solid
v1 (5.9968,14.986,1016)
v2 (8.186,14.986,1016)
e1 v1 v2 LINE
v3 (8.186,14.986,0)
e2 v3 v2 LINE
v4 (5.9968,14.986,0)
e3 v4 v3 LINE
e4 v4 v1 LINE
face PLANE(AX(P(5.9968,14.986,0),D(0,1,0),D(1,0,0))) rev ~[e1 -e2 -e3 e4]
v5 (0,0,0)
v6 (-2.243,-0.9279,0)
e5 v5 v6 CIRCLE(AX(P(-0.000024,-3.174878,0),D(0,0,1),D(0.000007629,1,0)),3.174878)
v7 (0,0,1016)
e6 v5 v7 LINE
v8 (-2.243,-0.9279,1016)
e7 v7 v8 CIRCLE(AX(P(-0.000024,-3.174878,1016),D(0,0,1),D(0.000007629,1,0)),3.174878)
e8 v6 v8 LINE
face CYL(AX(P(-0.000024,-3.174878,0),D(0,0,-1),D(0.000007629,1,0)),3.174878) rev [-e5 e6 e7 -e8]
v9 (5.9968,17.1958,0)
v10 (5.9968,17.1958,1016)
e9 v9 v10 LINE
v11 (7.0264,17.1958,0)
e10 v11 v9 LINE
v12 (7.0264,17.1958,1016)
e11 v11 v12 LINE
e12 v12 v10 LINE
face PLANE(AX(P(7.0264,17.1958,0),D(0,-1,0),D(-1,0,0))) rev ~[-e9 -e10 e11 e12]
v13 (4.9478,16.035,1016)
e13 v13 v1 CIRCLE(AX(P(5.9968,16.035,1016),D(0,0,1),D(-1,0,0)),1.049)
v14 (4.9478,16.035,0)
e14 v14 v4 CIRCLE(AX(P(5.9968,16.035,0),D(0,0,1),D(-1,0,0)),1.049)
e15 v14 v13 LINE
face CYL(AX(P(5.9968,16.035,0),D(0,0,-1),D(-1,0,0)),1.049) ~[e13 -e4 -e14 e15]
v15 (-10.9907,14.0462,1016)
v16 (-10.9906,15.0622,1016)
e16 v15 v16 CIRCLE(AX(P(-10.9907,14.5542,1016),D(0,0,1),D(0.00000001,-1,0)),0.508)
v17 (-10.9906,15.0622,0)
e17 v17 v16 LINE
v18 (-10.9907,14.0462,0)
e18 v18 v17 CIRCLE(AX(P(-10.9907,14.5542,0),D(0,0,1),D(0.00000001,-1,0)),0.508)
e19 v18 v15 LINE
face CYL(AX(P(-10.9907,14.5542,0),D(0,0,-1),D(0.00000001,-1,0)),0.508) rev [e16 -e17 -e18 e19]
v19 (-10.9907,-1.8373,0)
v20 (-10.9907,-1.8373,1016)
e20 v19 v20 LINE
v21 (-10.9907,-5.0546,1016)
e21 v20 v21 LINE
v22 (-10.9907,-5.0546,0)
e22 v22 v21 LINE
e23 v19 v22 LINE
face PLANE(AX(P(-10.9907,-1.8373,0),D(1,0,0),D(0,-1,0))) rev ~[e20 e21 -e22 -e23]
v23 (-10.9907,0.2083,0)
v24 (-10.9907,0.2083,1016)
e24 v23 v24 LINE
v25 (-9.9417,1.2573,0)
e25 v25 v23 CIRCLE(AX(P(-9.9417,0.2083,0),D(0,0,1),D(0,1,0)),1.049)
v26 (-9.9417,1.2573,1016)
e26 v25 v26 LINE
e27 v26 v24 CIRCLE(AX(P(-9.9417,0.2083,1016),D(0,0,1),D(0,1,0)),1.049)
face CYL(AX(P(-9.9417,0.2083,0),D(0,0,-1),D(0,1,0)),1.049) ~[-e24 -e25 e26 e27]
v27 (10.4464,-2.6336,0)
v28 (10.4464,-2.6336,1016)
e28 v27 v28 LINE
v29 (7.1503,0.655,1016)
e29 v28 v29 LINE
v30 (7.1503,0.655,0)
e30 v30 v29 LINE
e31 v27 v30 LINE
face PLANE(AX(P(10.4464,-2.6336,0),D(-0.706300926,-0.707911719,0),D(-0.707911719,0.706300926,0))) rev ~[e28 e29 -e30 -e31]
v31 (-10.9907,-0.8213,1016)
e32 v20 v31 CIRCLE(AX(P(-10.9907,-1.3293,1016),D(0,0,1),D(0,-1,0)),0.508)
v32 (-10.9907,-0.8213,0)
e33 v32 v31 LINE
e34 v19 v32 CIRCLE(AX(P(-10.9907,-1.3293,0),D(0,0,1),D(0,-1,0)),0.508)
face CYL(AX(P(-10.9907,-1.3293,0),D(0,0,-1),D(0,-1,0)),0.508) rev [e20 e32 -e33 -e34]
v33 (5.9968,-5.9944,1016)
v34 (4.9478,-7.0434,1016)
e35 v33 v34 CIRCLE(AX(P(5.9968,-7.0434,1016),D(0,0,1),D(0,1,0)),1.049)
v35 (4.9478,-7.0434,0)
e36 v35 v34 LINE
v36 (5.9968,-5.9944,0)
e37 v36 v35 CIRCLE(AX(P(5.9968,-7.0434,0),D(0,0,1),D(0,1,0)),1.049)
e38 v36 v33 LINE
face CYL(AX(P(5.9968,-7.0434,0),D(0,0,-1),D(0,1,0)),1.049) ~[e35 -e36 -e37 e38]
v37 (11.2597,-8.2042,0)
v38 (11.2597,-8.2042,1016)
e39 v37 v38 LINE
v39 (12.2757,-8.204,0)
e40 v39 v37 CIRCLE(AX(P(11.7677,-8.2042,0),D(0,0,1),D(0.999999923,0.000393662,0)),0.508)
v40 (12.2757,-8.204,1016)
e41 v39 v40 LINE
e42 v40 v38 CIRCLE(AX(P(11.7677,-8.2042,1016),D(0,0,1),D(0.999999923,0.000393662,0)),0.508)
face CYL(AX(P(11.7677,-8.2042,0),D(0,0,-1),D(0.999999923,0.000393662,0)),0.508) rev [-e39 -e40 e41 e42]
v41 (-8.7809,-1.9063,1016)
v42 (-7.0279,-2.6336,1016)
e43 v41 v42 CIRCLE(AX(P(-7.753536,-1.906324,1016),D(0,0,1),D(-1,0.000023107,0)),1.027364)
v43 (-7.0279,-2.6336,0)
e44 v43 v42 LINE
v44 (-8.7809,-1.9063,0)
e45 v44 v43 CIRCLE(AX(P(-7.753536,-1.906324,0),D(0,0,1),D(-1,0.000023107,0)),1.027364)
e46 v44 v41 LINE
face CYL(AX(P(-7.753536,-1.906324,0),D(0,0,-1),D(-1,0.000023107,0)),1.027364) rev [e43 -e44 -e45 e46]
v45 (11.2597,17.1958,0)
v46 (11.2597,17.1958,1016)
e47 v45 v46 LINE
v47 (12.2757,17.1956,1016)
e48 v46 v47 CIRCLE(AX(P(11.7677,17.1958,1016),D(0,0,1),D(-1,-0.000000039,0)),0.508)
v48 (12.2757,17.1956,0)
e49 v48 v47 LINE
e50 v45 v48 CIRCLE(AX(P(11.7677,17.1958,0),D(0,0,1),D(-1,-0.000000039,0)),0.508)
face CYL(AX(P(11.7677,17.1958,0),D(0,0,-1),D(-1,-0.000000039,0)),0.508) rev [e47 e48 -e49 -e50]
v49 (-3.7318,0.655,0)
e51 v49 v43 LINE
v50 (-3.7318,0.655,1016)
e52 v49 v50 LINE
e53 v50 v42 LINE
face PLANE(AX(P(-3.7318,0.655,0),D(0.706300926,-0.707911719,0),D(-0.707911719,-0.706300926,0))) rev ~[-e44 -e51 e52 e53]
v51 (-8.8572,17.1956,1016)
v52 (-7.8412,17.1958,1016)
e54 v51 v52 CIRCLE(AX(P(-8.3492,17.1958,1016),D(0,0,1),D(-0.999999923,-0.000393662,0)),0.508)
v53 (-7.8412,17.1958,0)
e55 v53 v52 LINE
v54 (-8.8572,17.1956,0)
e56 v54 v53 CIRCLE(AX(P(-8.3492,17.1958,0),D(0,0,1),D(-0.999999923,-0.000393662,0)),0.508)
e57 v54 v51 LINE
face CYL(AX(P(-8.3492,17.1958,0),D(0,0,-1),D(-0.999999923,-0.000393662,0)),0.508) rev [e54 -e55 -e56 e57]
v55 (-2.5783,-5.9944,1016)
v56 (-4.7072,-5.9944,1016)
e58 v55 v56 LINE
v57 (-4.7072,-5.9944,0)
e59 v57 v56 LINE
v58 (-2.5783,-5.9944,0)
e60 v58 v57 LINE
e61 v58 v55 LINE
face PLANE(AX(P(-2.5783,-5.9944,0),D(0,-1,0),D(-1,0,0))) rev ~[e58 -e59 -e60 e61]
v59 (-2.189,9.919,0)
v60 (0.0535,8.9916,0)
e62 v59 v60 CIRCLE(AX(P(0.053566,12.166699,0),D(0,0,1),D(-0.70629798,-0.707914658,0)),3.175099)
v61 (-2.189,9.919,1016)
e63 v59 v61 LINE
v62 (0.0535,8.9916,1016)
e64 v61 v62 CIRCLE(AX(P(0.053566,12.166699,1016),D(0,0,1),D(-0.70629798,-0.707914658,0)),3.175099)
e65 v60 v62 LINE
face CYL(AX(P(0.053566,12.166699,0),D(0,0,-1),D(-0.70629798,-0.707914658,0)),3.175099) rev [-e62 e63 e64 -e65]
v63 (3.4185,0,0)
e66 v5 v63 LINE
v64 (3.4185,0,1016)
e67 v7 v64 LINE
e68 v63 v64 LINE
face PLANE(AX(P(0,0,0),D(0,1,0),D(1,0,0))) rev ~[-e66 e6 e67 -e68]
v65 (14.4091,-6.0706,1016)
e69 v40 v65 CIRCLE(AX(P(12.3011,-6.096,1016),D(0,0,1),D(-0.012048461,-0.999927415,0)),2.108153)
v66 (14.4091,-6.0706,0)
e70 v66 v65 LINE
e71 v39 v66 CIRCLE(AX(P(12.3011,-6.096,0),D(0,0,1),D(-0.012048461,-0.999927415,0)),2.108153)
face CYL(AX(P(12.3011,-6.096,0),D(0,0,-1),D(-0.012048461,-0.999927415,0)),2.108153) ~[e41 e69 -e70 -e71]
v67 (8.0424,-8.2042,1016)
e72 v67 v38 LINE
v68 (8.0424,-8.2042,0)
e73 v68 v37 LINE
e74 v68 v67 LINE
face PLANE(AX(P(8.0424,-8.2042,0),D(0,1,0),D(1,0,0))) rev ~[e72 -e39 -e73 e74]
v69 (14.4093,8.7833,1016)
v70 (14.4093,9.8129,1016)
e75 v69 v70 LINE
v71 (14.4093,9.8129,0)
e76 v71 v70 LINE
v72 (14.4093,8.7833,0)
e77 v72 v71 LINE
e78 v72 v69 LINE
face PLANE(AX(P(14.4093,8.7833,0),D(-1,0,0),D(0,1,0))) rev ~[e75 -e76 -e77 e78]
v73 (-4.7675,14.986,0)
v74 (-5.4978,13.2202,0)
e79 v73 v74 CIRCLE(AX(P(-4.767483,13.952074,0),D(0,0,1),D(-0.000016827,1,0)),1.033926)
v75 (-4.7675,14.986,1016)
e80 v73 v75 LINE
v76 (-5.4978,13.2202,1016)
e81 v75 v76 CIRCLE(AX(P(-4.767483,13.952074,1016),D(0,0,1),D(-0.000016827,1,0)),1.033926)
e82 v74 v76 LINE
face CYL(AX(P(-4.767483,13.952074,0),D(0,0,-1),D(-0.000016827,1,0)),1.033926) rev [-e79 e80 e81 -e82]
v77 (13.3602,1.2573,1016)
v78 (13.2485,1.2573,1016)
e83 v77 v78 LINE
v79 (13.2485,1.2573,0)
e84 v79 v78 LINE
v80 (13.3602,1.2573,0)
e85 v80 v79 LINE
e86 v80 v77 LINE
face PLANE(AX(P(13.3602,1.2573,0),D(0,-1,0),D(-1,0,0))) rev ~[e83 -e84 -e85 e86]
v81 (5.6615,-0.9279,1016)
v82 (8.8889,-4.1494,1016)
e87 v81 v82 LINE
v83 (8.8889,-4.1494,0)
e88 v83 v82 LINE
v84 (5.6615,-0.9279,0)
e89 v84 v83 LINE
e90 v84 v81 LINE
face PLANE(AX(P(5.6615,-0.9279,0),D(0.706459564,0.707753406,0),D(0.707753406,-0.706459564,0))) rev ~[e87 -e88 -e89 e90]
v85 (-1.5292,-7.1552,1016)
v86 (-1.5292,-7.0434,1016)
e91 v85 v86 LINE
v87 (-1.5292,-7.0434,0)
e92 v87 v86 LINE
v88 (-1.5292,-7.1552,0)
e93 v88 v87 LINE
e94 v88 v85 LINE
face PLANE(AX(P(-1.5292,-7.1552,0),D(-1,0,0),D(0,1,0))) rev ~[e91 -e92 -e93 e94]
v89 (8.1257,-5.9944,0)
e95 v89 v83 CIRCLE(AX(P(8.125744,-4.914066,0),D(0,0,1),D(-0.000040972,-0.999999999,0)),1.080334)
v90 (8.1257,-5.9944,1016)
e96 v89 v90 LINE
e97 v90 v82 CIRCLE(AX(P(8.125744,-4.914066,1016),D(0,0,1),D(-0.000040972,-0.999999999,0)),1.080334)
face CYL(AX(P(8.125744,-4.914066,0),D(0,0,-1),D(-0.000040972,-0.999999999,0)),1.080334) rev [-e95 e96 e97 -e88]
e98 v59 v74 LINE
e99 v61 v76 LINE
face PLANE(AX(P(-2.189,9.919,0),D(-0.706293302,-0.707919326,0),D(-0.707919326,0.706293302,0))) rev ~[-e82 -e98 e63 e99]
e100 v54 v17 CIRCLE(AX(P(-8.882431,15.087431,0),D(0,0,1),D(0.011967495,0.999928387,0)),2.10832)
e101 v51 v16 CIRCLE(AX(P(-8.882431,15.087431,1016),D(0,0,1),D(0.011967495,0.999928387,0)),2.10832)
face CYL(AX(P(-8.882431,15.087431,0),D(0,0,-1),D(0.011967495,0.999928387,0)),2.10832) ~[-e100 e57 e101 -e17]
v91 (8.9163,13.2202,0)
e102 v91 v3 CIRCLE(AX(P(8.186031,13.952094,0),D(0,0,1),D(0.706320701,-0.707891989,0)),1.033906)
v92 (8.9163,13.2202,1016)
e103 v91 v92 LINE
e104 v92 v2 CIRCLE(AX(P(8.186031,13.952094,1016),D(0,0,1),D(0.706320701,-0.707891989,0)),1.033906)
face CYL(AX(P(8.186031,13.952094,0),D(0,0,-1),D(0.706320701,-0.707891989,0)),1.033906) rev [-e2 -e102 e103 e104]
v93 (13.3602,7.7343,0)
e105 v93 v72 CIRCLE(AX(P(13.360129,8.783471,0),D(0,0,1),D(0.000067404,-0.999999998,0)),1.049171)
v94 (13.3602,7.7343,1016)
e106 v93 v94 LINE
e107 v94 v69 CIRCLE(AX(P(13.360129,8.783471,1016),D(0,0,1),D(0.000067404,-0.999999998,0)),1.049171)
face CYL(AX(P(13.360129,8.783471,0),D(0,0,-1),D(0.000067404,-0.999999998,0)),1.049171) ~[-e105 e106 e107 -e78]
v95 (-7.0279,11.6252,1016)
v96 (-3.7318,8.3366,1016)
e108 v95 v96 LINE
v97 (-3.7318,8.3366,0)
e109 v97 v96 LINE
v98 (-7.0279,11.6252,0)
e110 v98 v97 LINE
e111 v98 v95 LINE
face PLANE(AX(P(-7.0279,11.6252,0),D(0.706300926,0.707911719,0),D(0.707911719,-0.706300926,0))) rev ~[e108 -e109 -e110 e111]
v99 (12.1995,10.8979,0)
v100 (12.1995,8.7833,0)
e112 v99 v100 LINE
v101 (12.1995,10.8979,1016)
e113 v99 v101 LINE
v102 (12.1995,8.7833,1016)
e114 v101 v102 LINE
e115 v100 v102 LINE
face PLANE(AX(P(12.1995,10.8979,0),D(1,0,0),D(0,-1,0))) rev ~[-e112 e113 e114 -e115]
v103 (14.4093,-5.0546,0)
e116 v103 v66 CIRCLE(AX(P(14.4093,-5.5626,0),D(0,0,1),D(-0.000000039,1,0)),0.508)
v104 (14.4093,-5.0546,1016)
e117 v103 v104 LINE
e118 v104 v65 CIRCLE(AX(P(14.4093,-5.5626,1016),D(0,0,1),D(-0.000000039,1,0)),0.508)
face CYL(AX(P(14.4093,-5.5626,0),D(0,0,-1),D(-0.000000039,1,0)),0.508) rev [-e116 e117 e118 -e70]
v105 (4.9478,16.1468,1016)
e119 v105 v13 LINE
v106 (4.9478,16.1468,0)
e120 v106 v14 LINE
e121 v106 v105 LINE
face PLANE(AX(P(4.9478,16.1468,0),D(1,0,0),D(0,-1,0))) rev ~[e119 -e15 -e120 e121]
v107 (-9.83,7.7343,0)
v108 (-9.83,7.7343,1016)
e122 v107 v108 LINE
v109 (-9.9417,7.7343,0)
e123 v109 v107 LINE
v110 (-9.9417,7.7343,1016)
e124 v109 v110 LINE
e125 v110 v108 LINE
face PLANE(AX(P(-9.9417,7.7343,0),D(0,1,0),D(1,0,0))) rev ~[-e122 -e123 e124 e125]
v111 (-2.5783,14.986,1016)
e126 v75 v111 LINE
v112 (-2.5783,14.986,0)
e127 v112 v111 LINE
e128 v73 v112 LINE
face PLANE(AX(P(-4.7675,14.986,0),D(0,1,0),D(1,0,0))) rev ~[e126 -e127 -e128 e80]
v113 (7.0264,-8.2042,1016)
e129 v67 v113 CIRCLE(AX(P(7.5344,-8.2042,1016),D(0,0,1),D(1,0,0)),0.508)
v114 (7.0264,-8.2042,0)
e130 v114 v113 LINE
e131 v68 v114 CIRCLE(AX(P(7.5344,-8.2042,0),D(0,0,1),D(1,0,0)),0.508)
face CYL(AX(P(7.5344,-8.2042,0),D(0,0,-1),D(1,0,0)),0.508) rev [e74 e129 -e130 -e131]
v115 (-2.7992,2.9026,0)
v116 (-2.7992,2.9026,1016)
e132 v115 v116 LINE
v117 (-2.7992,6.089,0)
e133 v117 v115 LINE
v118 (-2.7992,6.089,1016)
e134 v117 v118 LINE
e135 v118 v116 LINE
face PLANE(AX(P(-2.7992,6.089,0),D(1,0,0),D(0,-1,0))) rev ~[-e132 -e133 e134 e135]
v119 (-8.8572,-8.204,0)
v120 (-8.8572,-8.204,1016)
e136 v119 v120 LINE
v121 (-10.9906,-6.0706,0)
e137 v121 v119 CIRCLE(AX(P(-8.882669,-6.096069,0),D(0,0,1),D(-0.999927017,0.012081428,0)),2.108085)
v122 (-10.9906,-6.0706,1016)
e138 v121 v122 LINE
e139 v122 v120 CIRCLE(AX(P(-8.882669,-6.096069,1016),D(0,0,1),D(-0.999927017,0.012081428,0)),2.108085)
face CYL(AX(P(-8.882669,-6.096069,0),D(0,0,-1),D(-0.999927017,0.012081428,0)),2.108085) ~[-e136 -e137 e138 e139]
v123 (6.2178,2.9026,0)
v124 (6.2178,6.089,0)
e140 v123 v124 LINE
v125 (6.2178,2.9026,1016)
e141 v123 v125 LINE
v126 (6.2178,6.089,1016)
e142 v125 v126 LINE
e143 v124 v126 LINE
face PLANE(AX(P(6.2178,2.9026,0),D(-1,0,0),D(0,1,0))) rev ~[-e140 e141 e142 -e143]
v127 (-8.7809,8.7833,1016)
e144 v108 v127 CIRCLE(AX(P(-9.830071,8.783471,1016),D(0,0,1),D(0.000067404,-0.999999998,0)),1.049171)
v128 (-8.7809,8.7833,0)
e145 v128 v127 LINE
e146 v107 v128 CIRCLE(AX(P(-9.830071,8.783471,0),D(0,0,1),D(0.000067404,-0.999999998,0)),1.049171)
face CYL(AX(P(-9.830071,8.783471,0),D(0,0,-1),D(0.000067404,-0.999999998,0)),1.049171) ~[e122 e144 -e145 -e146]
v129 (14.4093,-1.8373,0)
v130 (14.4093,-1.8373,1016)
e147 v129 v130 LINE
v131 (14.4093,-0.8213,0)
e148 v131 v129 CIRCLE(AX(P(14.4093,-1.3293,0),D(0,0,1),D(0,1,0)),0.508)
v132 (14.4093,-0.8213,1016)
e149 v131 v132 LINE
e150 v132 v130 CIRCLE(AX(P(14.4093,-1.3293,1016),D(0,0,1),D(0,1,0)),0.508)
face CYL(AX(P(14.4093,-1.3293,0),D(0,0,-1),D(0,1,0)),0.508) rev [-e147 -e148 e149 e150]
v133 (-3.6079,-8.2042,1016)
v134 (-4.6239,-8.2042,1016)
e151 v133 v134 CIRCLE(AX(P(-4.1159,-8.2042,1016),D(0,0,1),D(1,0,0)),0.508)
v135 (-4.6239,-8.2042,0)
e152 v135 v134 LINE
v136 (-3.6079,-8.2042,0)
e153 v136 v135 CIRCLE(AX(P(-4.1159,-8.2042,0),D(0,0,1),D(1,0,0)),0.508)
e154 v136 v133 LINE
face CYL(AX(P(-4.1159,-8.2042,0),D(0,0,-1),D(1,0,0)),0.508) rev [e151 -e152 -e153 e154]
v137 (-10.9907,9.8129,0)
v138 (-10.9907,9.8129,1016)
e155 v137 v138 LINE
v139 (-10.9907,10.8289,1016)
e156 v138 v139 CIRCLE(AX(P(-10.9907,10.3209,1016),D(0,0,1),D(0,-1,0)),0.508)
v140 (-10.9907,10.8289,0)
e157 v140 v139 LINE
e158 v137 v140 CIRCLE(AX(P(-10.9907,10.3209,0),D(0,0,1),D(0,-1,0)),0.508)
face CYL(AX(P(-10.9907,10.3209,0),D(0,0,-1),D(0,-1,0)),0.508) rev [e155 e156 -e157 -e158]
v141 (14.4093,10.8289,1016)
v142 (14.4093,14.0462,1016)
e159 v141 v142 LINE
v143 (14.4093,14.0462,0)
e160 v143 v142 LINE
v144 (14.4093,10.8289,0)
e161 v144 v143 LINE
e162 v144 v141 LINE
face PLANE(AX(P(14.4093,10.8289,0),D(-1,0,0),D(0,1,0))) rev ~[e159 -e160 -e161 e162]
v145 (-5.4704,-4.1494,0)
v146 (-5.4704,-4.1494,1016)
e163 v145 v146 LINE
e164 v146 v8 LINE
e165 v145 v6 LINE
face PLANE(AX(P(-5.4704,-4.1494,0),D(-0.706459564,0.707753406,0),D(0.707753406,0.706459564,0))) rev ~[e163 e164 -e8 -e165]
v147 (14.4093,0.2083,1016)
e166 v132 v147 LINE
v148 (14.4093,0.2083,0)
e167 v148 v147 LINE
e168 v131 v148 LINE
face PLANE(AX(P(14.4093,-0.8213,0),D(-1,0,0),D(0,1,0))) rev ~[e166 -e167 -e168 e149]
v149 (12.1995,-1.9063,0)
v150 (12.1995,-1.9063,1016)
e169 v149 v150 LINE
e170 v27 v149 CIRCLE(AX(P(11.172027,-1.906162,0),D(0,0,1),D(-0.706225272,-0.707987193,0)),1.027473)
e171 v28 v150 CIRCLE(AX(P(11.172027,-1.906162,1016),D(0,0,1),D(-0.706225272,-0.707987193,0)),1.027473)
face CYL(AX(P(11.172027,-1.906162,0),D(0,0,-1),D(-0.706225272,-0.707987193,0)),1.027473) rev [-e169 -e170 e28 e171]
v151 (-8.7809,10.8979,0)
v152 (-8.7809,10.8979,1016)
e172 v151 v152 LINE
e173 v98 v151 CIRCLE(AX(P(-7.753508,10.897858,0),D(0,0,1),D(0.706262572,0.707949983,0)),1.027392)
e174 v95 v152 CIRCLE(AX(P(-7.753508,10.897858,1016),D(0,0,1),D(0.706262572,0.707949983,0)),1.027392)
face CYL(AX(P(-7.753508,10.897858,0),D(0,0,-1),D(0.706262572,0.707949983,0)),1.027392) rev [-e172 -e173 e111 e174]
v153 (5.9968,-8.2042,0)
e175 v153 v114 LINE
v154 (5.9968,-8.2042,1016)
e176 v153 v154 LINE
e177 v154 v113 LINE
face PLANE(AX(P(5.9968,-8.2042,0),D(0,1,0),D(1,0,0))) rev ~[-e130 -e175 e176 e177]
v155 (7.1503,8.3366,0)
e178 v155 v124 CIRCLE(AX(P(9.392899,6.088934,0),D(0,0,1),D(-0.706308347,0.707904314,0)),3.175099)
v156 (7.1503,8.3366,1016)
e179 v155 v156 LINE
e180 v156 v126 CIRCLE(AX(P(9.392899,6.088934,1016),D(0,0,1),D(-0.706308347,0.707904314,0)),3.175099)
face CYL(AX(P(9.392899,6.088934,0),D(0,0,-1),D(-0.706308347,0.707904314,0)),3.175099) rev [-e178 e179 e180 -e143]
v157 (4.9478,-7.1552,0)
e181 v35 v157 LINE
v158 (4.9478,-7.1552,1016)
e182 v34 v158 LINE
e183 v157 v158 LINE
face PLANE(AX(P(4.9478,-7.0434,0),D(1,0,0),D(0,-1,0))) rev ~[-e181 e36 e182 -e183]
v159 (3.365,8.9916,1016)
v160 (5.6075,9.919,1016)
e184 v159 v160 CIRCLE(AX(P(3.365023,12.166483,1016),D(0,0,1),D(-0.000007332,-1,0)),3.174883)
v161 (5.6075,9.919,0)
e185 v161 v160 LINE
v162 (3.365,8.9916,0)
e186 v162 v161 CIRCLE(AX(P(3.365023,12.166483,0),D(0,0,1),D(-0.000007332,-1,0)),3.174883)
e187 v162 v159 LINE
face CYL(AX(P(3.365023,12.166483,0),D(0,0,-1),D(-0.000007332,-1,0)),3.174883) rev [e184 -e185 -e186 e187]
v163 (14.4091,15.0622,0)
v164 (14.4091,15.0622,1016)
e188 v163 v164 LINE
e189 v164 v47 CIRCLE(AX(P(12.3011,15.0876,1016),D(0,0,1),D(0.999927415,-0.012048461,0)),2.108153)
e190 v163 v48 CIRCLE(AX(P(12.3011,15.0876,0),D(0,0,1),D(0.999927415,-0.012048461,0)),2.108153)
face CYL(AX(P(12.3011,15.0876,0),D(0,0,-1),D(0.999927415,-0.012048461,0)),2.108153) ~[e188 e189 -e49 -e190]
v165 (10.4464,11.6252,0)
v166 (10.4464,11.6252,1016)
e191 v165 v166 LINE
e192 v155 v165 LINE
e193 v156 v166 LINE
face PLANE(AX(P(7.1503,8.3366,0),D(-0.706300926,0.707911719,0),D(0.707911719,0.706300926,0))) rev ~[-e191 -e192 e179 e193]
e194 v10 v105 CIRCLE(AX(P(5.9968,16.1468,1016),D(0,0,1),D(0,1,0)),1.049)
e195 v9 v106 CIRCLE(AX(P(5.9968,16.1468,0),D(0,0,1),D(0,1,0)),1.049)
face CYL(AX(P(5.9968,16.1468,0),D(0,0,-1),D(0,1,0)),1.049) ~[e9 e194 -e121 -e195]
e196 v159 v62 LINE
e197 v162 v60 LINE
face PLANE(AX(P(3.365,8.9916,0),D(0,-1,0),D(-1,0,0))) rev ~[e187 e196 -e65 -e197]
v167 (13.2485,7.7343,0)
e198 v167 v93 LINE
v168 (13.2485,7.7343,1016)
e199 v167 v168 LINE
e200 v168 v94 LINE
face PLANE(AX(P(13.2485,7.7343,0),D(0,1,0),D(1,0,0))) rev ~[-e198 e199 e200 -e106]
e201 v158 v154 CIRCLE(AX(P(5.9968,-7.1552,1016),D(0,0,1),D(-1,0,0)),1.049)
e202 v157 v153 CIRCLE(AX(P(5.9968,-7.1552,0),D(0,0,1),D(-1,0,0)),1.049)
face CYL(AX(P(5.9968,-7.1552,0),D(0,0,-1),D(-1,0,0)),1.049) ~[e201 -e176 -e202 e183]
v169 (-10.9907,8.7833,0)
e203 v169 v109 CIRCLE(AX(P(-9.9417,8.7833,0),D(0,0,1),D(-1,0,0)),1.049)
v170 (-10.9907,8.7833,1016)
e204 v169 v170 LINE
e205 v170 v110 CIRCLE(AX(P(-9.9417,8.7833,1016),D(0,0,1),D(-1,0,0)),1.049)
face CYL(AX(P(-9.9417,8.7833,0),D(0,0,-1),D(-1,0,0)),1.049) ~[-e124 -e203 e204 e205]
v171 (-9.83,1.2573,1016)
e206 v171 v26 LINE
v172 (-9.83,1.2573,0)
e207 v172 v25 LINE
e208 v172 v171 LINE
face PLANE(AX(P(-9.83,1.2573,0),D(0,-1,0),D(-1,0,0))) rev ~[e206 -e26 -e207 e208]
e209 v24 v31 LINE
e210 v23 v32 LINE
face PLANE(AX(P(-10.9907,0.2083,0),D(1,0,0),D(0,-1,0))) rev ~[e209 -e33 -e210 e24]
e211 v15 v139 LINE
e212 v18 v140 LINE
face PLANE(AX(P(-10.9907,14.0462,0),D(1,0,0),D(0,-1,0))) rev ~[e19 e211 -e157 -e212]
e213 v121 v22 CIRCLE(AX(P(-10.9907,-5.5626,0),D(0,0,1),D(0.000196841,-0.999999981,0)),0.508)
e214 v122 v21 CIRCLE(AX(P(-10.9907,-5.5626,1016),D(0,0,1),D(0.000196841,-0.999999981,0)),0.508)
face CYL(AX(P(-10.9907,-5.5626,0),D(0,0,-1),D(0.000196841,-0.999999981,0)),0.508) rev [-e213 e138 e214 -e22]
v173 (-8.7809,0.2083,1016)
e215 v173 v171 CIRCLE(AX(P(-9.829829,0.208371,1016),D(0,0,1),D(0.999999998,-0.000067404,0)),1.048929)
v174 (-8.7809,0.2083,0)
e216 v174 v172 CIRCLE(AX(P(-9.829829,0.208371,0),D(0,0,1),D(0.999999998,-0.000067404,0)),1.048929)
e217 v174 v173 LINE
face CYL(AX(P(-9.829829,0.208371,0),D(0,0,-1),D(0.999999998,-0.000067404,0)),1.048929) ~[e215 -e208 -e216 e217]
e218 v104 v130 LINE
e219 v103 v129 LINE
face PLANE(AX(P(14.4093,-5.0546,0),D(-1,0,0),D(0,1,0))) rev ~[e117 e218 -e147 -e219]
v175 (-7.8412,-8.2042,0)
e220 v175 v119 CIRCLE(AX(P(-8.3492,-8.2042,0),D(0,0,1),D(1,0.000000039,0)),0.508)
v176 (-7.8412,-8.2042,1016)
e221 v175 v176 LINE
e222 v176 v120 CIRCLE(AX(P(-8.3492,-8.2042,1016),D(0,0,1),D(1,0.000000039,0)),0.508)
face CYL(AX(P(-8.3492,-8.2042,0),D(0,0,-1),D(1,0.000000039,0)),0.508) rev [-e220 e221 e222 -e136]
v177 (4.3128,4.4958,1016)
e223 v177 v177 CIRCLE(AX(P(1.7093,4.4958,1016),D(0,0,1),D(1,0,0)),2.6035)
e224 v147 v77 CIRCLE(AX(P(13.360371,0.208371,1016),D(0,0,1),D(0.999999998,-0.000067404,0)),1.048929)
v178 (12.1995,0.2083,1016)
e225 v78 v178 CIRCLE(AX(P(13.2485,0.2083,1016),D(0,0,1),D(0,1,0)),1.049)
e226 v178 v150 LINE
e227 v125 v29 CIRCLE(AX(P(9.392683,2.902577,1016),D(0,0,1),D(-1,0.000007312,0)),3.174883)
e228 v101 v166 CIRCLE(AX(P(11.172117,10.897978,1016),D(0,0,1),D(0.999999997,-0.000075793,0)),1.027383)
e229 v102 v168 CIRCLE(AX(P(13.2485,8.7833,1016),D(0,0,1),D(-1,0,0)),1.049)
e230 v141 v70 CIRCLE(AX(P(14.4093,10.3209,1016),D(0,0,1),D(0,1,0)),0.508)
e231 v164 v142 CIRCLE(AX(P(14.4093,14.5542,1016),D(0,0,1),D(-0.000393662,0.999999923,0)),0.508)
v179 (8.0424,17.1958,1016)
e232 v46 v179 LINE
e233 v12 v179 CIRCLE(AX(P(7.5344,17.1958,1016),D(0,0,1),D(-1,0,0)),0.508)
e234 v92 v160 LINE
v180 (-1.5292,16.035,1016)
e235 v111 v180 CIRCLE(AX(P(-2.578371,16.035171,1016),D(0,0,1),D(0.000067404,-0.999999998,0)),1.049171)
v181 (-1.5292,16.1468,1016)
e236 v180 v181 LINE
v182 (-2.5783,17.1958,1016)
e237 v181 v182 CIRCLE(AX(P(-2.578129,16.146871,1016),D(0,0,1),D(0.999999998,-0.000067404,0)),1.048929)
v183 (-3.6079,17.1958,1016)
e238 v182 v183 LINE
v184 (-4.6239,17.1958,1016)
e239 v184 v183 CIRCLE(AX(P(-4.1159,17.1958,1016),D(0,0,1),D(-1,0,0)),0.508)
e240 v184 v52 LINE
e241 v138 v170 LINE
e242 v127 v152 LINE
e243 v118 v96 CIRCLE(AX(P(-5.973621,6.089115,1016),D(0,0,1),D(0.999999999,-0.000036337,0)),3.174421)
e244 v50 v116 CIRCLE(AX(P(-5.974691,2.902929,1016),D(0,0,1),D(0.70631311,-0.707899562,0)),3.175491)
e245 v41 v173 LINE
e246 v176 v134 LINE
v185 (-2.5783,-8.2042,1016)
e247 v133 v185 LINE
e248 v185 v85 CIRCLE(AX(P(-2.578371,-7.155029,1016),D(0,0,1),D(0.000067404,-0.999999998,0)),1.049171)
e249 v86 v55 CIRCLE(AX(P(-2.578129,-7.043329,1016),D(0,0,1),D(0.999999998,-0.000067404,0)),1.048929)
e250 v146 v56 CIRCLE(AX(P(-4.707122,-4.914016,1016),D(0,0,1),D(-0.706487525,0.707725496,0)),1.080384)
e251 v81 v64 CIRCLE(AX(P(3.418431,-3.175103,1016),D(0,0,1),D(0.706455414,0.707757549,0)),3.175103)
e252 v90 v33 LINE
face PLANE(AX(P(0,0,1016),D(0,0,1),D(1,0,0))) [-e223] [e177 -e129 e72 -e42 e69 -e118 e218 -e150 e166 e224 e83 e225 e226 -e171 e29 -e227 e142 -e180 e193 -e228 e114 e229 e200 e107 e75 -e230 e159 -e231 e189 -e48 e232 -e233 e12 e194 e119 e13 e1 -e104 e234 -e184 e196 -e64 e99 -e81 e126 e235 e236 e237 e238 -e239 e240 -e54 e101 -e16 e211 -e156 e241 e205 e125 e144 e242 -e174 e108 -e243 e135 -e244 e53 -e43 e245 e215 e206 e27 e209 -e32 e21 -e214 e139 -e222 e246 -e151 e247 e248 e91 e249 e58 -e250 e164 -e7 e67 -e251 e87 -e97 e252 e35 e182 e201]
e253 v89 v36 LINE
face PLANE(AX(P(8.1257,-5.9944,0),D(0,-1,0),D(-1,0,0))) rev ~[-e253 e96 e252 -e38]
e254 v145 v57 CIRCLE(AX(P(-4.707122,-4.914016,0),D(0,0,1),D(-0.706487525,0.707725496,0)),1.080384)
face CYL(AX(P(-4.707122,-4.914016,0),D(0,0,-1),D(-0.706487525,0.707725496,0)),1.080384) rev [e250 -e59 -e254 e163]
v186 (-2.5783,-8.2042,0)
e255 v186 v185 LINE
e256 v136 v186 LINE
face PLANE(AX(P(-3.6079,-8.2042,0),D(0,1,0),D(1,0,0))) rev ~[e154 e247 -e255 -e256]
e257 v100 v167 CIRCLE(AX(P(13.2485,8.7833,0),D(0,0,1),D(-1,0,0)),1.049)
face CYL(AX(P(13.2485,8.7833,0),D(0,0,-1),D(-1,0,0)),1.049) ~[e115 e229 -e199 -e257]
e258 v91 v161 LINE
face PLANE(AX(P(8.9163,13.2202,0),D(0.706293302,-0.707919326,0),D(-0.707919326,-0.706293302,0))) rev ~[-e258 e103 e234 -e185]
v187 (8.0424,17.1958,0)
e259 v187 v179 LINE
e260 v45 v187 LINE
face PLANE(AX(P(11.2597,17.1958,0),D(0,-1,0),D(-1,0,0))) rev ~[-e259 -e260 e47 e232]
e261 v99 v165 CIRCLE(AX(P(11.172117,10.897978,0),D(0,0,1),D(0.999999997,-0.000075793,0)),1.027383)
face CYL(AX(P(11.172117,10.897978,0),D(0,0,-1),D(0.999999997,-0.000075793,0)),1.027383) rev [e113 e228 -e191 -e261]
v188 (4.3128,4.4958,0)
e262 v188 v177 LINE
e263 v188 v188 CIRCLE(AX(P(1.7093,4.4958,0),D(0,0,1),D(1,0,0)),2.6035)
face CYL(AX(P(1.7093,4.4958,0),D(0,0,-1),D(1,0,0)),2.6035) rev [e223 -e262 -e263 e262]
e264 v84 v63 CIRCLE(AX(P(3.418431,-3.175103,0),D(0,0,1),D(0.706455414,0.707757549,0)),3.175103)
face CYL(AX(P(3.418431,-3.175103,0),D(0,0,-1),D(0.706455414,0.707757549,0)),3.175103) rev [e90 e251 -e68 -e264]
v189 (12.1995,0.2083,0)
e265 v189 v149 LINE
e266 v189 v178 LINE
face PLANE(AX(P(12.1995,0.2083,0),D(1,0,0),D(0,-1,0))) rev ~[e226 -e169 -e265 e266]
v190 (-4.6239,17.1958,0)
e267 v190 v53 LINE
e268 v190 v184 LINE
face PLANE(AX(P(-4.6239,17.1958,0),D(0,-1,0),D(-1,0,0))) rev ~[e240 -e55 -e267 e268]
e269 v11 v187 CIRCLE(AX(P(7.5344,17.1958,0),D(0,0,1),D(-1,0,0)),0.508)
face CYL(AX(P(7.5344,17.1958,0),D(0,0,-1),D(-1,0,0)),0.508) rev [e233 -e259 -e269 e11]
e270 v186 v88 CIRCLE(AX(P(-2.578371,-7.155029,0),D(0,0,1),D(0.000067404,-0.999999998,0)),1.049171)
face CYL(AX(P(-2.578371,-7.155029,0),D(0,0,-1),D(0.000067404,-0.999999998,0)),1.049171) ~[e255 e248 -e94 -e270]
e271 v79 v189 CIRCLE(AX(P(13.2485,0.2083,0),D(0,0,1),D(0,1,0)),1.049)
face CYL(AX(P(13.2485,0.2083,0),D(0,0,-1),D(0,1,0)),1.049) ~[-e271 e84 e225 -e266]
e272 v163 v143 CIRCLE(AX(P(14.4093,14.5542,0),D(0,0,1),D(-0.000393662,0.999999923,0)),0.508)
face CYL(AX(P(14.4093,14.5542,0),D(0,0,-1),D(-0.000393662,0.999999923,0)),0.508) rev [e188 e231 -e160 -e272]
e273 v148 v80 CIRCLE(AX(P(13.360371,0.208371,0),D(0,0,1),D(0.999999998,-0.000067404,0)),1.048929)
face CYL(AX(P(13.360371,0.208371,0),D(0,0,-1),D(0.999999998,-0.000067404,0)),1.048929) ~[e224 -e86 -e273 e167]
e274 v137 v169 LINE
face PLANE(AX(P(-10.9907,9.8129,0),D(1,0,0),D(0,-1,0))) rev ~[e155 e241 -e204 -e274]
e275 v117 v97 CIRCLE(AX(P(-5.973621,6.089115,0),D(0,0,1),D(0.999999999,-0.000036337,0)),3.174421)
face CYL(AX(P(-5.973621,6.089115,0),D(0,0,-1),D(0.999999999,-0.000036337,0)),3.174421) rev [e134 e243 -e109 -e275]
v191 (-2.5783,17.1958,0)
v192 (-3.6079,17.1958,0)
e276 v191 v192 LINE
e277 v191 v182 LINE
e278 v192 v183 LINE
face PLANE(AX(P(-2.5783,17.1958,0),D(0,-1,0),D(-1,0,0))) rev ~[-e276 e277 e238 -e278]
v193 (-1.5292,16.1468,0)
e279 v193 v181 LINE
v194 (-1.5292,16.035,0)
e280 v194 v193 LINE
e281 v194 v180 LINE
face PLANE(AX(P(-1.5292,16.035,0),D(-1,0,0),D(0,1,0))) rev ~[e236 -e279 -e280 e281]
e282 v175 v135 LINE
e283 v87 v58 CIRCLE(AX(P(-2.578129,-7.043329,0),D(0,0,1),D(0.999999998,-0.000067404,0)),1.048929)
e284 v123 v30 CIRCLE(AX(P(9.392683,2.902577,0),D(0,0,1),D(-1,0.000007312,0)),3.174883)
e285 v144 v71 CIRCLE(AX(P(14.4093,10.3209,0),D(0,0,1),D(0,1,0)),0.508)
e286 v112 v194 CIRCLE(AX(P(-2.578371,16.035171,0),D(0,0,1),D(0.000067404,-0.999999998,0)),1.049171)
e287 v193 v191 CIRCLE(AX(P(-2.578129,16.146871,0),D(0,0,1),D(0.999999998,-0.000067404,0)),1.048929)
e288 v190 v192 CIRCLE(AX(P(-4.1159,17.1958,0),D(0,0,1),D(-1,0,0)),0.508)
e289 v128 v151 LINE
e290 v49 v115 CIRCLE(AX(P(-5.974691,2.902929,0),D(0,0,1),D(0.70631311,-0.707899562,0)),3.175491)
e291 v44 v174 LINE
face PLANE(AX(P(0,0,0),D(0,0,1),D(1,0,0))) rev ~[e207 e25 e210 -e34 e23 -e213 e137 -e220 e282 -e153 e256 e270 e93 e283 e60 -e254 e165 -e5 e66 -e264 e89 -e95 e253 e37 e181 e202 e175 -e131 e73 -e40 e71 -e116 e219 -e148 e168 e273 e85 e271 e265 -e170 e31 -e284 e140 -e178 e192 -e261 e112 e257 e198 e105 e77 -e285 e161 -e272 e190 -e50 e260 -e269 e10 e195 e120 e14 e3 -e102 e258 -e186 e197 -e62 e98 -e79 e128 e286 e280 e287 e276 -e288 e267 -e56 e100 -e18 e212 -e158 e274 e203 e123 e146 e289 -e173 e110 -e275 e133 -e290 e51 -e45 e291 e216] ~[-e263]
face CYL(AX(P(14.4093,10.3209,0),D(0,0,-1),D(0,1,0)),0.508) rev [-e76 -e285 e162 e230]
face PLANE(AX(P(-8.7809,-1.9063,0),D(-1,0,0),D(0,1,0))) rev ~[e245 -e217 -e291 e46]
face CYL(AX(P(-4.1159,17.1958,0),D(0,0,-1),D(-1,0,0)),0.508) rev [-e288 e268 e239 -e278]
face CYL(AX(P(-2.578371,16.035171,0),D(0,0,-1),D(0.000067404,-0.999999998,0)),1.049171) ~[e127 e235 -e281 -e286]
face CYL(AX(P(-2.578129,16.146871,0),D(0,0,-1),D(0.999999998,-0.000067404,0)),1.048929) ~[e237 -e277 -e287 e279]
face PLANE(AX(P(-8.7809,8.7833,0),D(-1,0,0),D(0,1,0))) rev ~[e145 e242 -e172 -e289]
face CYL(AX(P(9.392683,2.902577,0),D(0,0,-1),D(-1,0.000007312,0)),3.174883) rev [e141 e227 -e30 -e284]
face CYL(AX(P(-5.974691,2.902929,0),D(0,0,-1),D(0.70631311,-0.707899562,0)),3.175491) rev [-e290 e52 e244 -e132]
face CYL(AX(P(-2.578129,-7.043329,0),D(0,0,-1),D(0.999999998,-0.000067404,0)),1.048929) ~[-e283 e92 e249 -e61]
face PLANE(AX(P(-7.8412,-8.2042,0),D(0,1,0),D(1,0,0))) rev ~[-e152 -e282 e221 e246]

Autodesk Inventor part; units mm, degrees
ref_plane "YZ Plane" through (0, 0, 0) normal (1, 0, 0) x (0, 1, 0)
ref_plane "XZ Plane" through (0, 0, 0) normal (0, 1, 0) x (-1, 0, 0)
ref_plane "XY Plane" through (0, 0, 0) normal (0, 0, 1) x (1, 0, 0)
sketch "Sketch1" plane through (0, 0, 0) normal (0, 0, 1) x (1, 0, 0)
  arc A0 (-5.4704, -4.1494) -> (-4.7072, -5.9944) centre (-4.7072, -4.914) ccw
  line L0 (-5.4704, -4.1494) -> (-2.243, -0.9279)
  arc A1 (0, 0) -> (-2.243, -0.9279) centre (0, -3.175) ccw
  line L1 (0, 0) -> (3.4185, 0)
  arc A2 (5.6615, -0.9279) -> (3.4185, 0) centre (3.4185, -3.175) ccw
  line L2 (5.6615, -0.9279) -> (8.8889, -4.1494)
  arc A3 (8.1257, -5.9944) -> (8.8889, -4.1494) centre (8.1257, -4.914) ccw
  line L3 (8.1257, -5.9944) -> (5.9968, -5.9944)
  arc A4 (5.9968, -5.9944) -> (4.9478, -7.0434) centre (5.9968, -7.0434) ccw
  line L4 (4.9478, -7.0434) -> (4.9478, -7.1552)
  arc A5 (4.9478, -7.1552) -> (5.9968, -8.2042) centre (5.9968, -7.1552) ccw
  line L5 (5.9968, -8.2042) -> (7.0264, -8.2042)
  arc A6 (8.0424, -8.2042) -> (7.0264, -8.2042) centre (7.5344, -8.2042) ccw
  line L6 (8.0424, -8.2042) -> (11.2597, -8.2042)
  arc A7 (12.2757, -8.204) -> (11.2597, -8.2042) centre (11.7677, -8.2042) ccw
  arc A8 (12.2757, -8.204) -> (14.4091, -6.0706) centre (12.3011, -6.096) ccw
  arc A9 (14.4093, -5.0546) -> (14.4091, -6.0706) centre (14.4093, -5.5626) ccw
  line L7 (14.4093, -5.0546) -> (14.4093, -1.8373)
  arc A10 (14.4093, -0.8213) -> (14.4093, -1.8373) centre (14.4093, -1.3293) ccw
  line L8 (14.4093, -0.8213) -> (14.4093, 0.2083)
  arc A11 (14.4093, 0.2083) -> (13.3602, 1.2573) centre (13.3602, 0.2083) ccw
  line L9 (13.3602, 1.2573) -> (13.2485, 1.2573)
  arc A12 (13.2485, 1.2573) -> (12.1995, 0.2083) centre (13.2485, 0.2083) ccw
  line L10 (12.1995, 0.2083) -> (12.1995, -1.9063)
  arc A13 (10.4464, -2.6336) -> (12.1995, -1.9063) centre (11.172, -1.9063) ccw
  line L11 (10.4464, -2.6336) -> (7.1503, 0.655)
  arc A14 (6.2178, 2.9026) -> (7.1503, 0.655) centre (9.3928, 2.9026) ccw
  line L12 (6.2178, 2.9026) -> (6.2178, 6.089)
  arc A15 (7.1503, 8.3366) -> (6.2178, 6.089) centre (9.3928, 6.089) ccw
  line L13 (7.1503, 8.3366) -> (10.4464, 11.6252)
  arc A16 (12.1995, 10.8979) -> (10.4464, 11.6252) centre (11.172, 10.8979) ccw
  line L14 (12.1995, 10.8979) -> (12.1995, 8.7833)
  arc A17 (12.1995, 8.7833) -> (13.2485, 7.7343) centre (13.2485, 8.7833) ccw
  line L15 (13.2485, 7.7343) -> (13.3602, 7.7343)
  arc A18 (13.3602, 7.7343) -> (14.4093, 8.7833) centre (13.3602, 8.7833) ccw
  line L16 (14.4093, 8.7833) -> (14.4093, 9.8129)
  arc A19 (14.4093, 10.8289) -> (14.4093, 9.8129) centre (14.4093, 10.3209) ccw
  line L17 (14.4093, 10.8289) -> (14.4093, 14.0462)
  arc A20 (14.4091, 15.0622) -> (14.4093, 14.0462) centre (14.4093, 14.5542) ccw
  arc A21 (14.4091, 15.0622) -> (12.2757, 17.1956) centre (12.3011, 15.0876) ccw
  arc A22 (11.2597, 17.1958) -> (12.2757, 17.1956) centre (11.7677, 17.1958) ccw
  line L18 (11.2597, 17.1958) -> (8.0424, 17.1958)
  arc A23 (7.0264, 17.1958) -> (8.0424, 17.1958) centre (7.5344, 17.1958) ccw
  line L19 (7.0264, 17.1958) -> (5.9968, 17.1958)
  arc A24 (5.9968, 17.1958) -> (4.9478, 16.1468) centre (5.9968, 16.1468) ccw
  line L20 (4.9478, 16.1468) -> (4.9478, 16.035)
  arc A25 (4.9478, 16.035) -> (5.9968, 14.986) centre (5.9968, 16.035) ccw
  line L21 (5.9968, 14.986) -> (8.186, 14.986)
  arc A26 (8.9163, 13.2202) -> (8.186, 14.986) centre (8.186, 13.9521) ccw
  line L22 (8.9163, 13.2202) -> (5.6075, 9.919)
  arc A27 (3.365, 8.9916) -> (5.6075, 9.919) centre (3.365, 12.1666) ccw
  line L23 (3.365, 8.9916) -> (0.0535, 8.9916)
  arc A28 (-2.189, 9.919) -> (0.0535, 8.9916) centre (0.0535, 12.1666) ccw
  line L24 (-2.189, 9.919) -> (-5.4978, 13.2202)
  arc A29 (-4.7675, 14.986) -> (-5.4978, 13.2202) centre (-4.7675, 13.9521) ccw
  line L25 (-4.7675, 14.986) -> (-2.5783, 14.986)
  arc A30 (-2.5783, 14.986) -> (-1.5292, 16.035) centre (-2.5783, 16.035) ccw
  line L26 (-1.5292, 16.035) -> (-1.5292, 16.1468)
  arc A31 (-1.5292, 16.1468) -> (-2.5783, 17.1958) centre (-2.5783, 16.1468) ccw
  line L27 (-2.5783, 17.1958) -> (-3.6079, 17.1958)
  arc A32 (-4.6239, 17.1958) -> (-3.6079, 17.1958) centre (-4.1159, 17.1958) ccw
  line L28 (-4.6239, 17.1958) -> (-7.8412, 17.1958)
  arc A33 (-8.8572, 17.1956) -> (-7.8412, 17.1958) centre (-8.3492, 17.1958) ccw
  arc A34 (-8.8572, 17.1956) -> (-10.9906, 15.0622) centre (-8.8825, 15.0876) ccw
  arc A35 (-10.9907, 14.0462) -> (-10.9906, 15.0622) centre (-10.9907, 14.5542) ccw
  line L29 (-10.9907, 14.0462) -> (-10.9907, 10.8289)
  arc A36 (-10.9907, 9.8129) -> (-10.9907, 10.8289) centre (-10.9907, 10.3209) ccw
  line L30 (-10.9907, 9.8129) -> (-10.9907, 8.7833)
  arc A37 (-10.9907, 8.7833) -> (-9.9417, 7.7343) centre (-9.9417, 8.7833) ccw
  line L31 (-9.9417, 7.7343) -> (-9.83, 7.7343)
  arc A38 (-9.83, 7.7343) -> (-8.7809, 8.7833) centre (-9.83, 8.7833) ccw
  line L32 (-8.7809, 8.7833) -> (-8.7809, 10.8979)
  arc A39 (-7.0279, 11.6252) -> (-8.7809, 10.8979) centre (-7.7535, 10.8979) ccw
  line L33 (-7.0279, 11.6252) -> (-3.7318, 8.3366)
  arc A40 (-2.7992, 6.089) -> (-3.7318, 8.3366) centre (-5.9742, 6.089) ccw
  line L34 (-2.7992, 6.089) -> (-2.7992, 2.9026)
  arc A41 (-3.7318, 0.655) -> (-2.7992, 2.9026) centre (-5.9742, 2.9026) ccw
  line L35 (-3.7318, 0.655) -> (-7.0279, -2.6336)
  arc A42 (-8.7809, -1.9063) -> (-7.0279, -2.6336) centre (-7.7535, -1.9063) ccw
  line L36 (-8.7809, -1.9063) -> (-8.7809, 0.2083)
  arc A43 (-8.7809, 0.2083) -> (-9.83, 1.2573) centre (-9.83, 0.2083) ccw
  line L37 (-9.83, 1.2573) -> (-9.9417, 1.2573)
  arc A44 (-9.9417, 1.2573) -> (-10.9907, 0.2083) centre (-9.9417, 0.2083) ccw
  line L38 (-10.9907, 0.2083) -> (-10.9907, -0.8213)
  arc A45 (-10.9907, -1.8373) -> (-10.9907, -0.8213) centre (-10.9907, -1.3293) ccw
  line L39 (-10.9907, -1.8373) -> (-10.9907, -5.0546)
  arc A46 (-10.9906, -6.0706) -> (-10.9907, -5.0546) centre (-10.9907, -5.5626) ccw
  arc A47 (-10.9906, -6.0706) -> (-8.8572, -8.204) centre (-8.8825, -6.096) ccw
  arc A48 (-7.8412, -8.2042) -> (-8.8572, -8.204) centre (-8.3492, -8.2042) ccw
  line L40 (-7.8412, -8.2042) -> (-4.6239, -8.2042)
  arc A49 (-3.6079, -8.2042) -> (-4.6239, -8.2042) centre (-4.1159, -8.2042) ccw
  line L41 (-3.6079, -8.2042) -> (-2.5783, -8.2042)
  arc A50 (-2.5783, -8.2042) -> (-1.5292, -7.1552) centre (-2.5783, -7.1552) ccw
  line L42 (-1.5292, -7.1552) -> (-1.5292, -7.0434)
  arc A51 (-1.5292, -7.0434) -> (-2.5783, -5.9944) centre (-2.5783, -7.0434) ccw
  line L43 (-2.5783, -5.9944) -> (-4.7072, -5.9944)
  circle A52 centre (1.7093, 4.4958) radius 2.6035
extrude "Extrusion1" add sketch "Sketch1" along normal blind 1016
properties part number "40 in 1x1 T slot" material "Steel, Alloy"
